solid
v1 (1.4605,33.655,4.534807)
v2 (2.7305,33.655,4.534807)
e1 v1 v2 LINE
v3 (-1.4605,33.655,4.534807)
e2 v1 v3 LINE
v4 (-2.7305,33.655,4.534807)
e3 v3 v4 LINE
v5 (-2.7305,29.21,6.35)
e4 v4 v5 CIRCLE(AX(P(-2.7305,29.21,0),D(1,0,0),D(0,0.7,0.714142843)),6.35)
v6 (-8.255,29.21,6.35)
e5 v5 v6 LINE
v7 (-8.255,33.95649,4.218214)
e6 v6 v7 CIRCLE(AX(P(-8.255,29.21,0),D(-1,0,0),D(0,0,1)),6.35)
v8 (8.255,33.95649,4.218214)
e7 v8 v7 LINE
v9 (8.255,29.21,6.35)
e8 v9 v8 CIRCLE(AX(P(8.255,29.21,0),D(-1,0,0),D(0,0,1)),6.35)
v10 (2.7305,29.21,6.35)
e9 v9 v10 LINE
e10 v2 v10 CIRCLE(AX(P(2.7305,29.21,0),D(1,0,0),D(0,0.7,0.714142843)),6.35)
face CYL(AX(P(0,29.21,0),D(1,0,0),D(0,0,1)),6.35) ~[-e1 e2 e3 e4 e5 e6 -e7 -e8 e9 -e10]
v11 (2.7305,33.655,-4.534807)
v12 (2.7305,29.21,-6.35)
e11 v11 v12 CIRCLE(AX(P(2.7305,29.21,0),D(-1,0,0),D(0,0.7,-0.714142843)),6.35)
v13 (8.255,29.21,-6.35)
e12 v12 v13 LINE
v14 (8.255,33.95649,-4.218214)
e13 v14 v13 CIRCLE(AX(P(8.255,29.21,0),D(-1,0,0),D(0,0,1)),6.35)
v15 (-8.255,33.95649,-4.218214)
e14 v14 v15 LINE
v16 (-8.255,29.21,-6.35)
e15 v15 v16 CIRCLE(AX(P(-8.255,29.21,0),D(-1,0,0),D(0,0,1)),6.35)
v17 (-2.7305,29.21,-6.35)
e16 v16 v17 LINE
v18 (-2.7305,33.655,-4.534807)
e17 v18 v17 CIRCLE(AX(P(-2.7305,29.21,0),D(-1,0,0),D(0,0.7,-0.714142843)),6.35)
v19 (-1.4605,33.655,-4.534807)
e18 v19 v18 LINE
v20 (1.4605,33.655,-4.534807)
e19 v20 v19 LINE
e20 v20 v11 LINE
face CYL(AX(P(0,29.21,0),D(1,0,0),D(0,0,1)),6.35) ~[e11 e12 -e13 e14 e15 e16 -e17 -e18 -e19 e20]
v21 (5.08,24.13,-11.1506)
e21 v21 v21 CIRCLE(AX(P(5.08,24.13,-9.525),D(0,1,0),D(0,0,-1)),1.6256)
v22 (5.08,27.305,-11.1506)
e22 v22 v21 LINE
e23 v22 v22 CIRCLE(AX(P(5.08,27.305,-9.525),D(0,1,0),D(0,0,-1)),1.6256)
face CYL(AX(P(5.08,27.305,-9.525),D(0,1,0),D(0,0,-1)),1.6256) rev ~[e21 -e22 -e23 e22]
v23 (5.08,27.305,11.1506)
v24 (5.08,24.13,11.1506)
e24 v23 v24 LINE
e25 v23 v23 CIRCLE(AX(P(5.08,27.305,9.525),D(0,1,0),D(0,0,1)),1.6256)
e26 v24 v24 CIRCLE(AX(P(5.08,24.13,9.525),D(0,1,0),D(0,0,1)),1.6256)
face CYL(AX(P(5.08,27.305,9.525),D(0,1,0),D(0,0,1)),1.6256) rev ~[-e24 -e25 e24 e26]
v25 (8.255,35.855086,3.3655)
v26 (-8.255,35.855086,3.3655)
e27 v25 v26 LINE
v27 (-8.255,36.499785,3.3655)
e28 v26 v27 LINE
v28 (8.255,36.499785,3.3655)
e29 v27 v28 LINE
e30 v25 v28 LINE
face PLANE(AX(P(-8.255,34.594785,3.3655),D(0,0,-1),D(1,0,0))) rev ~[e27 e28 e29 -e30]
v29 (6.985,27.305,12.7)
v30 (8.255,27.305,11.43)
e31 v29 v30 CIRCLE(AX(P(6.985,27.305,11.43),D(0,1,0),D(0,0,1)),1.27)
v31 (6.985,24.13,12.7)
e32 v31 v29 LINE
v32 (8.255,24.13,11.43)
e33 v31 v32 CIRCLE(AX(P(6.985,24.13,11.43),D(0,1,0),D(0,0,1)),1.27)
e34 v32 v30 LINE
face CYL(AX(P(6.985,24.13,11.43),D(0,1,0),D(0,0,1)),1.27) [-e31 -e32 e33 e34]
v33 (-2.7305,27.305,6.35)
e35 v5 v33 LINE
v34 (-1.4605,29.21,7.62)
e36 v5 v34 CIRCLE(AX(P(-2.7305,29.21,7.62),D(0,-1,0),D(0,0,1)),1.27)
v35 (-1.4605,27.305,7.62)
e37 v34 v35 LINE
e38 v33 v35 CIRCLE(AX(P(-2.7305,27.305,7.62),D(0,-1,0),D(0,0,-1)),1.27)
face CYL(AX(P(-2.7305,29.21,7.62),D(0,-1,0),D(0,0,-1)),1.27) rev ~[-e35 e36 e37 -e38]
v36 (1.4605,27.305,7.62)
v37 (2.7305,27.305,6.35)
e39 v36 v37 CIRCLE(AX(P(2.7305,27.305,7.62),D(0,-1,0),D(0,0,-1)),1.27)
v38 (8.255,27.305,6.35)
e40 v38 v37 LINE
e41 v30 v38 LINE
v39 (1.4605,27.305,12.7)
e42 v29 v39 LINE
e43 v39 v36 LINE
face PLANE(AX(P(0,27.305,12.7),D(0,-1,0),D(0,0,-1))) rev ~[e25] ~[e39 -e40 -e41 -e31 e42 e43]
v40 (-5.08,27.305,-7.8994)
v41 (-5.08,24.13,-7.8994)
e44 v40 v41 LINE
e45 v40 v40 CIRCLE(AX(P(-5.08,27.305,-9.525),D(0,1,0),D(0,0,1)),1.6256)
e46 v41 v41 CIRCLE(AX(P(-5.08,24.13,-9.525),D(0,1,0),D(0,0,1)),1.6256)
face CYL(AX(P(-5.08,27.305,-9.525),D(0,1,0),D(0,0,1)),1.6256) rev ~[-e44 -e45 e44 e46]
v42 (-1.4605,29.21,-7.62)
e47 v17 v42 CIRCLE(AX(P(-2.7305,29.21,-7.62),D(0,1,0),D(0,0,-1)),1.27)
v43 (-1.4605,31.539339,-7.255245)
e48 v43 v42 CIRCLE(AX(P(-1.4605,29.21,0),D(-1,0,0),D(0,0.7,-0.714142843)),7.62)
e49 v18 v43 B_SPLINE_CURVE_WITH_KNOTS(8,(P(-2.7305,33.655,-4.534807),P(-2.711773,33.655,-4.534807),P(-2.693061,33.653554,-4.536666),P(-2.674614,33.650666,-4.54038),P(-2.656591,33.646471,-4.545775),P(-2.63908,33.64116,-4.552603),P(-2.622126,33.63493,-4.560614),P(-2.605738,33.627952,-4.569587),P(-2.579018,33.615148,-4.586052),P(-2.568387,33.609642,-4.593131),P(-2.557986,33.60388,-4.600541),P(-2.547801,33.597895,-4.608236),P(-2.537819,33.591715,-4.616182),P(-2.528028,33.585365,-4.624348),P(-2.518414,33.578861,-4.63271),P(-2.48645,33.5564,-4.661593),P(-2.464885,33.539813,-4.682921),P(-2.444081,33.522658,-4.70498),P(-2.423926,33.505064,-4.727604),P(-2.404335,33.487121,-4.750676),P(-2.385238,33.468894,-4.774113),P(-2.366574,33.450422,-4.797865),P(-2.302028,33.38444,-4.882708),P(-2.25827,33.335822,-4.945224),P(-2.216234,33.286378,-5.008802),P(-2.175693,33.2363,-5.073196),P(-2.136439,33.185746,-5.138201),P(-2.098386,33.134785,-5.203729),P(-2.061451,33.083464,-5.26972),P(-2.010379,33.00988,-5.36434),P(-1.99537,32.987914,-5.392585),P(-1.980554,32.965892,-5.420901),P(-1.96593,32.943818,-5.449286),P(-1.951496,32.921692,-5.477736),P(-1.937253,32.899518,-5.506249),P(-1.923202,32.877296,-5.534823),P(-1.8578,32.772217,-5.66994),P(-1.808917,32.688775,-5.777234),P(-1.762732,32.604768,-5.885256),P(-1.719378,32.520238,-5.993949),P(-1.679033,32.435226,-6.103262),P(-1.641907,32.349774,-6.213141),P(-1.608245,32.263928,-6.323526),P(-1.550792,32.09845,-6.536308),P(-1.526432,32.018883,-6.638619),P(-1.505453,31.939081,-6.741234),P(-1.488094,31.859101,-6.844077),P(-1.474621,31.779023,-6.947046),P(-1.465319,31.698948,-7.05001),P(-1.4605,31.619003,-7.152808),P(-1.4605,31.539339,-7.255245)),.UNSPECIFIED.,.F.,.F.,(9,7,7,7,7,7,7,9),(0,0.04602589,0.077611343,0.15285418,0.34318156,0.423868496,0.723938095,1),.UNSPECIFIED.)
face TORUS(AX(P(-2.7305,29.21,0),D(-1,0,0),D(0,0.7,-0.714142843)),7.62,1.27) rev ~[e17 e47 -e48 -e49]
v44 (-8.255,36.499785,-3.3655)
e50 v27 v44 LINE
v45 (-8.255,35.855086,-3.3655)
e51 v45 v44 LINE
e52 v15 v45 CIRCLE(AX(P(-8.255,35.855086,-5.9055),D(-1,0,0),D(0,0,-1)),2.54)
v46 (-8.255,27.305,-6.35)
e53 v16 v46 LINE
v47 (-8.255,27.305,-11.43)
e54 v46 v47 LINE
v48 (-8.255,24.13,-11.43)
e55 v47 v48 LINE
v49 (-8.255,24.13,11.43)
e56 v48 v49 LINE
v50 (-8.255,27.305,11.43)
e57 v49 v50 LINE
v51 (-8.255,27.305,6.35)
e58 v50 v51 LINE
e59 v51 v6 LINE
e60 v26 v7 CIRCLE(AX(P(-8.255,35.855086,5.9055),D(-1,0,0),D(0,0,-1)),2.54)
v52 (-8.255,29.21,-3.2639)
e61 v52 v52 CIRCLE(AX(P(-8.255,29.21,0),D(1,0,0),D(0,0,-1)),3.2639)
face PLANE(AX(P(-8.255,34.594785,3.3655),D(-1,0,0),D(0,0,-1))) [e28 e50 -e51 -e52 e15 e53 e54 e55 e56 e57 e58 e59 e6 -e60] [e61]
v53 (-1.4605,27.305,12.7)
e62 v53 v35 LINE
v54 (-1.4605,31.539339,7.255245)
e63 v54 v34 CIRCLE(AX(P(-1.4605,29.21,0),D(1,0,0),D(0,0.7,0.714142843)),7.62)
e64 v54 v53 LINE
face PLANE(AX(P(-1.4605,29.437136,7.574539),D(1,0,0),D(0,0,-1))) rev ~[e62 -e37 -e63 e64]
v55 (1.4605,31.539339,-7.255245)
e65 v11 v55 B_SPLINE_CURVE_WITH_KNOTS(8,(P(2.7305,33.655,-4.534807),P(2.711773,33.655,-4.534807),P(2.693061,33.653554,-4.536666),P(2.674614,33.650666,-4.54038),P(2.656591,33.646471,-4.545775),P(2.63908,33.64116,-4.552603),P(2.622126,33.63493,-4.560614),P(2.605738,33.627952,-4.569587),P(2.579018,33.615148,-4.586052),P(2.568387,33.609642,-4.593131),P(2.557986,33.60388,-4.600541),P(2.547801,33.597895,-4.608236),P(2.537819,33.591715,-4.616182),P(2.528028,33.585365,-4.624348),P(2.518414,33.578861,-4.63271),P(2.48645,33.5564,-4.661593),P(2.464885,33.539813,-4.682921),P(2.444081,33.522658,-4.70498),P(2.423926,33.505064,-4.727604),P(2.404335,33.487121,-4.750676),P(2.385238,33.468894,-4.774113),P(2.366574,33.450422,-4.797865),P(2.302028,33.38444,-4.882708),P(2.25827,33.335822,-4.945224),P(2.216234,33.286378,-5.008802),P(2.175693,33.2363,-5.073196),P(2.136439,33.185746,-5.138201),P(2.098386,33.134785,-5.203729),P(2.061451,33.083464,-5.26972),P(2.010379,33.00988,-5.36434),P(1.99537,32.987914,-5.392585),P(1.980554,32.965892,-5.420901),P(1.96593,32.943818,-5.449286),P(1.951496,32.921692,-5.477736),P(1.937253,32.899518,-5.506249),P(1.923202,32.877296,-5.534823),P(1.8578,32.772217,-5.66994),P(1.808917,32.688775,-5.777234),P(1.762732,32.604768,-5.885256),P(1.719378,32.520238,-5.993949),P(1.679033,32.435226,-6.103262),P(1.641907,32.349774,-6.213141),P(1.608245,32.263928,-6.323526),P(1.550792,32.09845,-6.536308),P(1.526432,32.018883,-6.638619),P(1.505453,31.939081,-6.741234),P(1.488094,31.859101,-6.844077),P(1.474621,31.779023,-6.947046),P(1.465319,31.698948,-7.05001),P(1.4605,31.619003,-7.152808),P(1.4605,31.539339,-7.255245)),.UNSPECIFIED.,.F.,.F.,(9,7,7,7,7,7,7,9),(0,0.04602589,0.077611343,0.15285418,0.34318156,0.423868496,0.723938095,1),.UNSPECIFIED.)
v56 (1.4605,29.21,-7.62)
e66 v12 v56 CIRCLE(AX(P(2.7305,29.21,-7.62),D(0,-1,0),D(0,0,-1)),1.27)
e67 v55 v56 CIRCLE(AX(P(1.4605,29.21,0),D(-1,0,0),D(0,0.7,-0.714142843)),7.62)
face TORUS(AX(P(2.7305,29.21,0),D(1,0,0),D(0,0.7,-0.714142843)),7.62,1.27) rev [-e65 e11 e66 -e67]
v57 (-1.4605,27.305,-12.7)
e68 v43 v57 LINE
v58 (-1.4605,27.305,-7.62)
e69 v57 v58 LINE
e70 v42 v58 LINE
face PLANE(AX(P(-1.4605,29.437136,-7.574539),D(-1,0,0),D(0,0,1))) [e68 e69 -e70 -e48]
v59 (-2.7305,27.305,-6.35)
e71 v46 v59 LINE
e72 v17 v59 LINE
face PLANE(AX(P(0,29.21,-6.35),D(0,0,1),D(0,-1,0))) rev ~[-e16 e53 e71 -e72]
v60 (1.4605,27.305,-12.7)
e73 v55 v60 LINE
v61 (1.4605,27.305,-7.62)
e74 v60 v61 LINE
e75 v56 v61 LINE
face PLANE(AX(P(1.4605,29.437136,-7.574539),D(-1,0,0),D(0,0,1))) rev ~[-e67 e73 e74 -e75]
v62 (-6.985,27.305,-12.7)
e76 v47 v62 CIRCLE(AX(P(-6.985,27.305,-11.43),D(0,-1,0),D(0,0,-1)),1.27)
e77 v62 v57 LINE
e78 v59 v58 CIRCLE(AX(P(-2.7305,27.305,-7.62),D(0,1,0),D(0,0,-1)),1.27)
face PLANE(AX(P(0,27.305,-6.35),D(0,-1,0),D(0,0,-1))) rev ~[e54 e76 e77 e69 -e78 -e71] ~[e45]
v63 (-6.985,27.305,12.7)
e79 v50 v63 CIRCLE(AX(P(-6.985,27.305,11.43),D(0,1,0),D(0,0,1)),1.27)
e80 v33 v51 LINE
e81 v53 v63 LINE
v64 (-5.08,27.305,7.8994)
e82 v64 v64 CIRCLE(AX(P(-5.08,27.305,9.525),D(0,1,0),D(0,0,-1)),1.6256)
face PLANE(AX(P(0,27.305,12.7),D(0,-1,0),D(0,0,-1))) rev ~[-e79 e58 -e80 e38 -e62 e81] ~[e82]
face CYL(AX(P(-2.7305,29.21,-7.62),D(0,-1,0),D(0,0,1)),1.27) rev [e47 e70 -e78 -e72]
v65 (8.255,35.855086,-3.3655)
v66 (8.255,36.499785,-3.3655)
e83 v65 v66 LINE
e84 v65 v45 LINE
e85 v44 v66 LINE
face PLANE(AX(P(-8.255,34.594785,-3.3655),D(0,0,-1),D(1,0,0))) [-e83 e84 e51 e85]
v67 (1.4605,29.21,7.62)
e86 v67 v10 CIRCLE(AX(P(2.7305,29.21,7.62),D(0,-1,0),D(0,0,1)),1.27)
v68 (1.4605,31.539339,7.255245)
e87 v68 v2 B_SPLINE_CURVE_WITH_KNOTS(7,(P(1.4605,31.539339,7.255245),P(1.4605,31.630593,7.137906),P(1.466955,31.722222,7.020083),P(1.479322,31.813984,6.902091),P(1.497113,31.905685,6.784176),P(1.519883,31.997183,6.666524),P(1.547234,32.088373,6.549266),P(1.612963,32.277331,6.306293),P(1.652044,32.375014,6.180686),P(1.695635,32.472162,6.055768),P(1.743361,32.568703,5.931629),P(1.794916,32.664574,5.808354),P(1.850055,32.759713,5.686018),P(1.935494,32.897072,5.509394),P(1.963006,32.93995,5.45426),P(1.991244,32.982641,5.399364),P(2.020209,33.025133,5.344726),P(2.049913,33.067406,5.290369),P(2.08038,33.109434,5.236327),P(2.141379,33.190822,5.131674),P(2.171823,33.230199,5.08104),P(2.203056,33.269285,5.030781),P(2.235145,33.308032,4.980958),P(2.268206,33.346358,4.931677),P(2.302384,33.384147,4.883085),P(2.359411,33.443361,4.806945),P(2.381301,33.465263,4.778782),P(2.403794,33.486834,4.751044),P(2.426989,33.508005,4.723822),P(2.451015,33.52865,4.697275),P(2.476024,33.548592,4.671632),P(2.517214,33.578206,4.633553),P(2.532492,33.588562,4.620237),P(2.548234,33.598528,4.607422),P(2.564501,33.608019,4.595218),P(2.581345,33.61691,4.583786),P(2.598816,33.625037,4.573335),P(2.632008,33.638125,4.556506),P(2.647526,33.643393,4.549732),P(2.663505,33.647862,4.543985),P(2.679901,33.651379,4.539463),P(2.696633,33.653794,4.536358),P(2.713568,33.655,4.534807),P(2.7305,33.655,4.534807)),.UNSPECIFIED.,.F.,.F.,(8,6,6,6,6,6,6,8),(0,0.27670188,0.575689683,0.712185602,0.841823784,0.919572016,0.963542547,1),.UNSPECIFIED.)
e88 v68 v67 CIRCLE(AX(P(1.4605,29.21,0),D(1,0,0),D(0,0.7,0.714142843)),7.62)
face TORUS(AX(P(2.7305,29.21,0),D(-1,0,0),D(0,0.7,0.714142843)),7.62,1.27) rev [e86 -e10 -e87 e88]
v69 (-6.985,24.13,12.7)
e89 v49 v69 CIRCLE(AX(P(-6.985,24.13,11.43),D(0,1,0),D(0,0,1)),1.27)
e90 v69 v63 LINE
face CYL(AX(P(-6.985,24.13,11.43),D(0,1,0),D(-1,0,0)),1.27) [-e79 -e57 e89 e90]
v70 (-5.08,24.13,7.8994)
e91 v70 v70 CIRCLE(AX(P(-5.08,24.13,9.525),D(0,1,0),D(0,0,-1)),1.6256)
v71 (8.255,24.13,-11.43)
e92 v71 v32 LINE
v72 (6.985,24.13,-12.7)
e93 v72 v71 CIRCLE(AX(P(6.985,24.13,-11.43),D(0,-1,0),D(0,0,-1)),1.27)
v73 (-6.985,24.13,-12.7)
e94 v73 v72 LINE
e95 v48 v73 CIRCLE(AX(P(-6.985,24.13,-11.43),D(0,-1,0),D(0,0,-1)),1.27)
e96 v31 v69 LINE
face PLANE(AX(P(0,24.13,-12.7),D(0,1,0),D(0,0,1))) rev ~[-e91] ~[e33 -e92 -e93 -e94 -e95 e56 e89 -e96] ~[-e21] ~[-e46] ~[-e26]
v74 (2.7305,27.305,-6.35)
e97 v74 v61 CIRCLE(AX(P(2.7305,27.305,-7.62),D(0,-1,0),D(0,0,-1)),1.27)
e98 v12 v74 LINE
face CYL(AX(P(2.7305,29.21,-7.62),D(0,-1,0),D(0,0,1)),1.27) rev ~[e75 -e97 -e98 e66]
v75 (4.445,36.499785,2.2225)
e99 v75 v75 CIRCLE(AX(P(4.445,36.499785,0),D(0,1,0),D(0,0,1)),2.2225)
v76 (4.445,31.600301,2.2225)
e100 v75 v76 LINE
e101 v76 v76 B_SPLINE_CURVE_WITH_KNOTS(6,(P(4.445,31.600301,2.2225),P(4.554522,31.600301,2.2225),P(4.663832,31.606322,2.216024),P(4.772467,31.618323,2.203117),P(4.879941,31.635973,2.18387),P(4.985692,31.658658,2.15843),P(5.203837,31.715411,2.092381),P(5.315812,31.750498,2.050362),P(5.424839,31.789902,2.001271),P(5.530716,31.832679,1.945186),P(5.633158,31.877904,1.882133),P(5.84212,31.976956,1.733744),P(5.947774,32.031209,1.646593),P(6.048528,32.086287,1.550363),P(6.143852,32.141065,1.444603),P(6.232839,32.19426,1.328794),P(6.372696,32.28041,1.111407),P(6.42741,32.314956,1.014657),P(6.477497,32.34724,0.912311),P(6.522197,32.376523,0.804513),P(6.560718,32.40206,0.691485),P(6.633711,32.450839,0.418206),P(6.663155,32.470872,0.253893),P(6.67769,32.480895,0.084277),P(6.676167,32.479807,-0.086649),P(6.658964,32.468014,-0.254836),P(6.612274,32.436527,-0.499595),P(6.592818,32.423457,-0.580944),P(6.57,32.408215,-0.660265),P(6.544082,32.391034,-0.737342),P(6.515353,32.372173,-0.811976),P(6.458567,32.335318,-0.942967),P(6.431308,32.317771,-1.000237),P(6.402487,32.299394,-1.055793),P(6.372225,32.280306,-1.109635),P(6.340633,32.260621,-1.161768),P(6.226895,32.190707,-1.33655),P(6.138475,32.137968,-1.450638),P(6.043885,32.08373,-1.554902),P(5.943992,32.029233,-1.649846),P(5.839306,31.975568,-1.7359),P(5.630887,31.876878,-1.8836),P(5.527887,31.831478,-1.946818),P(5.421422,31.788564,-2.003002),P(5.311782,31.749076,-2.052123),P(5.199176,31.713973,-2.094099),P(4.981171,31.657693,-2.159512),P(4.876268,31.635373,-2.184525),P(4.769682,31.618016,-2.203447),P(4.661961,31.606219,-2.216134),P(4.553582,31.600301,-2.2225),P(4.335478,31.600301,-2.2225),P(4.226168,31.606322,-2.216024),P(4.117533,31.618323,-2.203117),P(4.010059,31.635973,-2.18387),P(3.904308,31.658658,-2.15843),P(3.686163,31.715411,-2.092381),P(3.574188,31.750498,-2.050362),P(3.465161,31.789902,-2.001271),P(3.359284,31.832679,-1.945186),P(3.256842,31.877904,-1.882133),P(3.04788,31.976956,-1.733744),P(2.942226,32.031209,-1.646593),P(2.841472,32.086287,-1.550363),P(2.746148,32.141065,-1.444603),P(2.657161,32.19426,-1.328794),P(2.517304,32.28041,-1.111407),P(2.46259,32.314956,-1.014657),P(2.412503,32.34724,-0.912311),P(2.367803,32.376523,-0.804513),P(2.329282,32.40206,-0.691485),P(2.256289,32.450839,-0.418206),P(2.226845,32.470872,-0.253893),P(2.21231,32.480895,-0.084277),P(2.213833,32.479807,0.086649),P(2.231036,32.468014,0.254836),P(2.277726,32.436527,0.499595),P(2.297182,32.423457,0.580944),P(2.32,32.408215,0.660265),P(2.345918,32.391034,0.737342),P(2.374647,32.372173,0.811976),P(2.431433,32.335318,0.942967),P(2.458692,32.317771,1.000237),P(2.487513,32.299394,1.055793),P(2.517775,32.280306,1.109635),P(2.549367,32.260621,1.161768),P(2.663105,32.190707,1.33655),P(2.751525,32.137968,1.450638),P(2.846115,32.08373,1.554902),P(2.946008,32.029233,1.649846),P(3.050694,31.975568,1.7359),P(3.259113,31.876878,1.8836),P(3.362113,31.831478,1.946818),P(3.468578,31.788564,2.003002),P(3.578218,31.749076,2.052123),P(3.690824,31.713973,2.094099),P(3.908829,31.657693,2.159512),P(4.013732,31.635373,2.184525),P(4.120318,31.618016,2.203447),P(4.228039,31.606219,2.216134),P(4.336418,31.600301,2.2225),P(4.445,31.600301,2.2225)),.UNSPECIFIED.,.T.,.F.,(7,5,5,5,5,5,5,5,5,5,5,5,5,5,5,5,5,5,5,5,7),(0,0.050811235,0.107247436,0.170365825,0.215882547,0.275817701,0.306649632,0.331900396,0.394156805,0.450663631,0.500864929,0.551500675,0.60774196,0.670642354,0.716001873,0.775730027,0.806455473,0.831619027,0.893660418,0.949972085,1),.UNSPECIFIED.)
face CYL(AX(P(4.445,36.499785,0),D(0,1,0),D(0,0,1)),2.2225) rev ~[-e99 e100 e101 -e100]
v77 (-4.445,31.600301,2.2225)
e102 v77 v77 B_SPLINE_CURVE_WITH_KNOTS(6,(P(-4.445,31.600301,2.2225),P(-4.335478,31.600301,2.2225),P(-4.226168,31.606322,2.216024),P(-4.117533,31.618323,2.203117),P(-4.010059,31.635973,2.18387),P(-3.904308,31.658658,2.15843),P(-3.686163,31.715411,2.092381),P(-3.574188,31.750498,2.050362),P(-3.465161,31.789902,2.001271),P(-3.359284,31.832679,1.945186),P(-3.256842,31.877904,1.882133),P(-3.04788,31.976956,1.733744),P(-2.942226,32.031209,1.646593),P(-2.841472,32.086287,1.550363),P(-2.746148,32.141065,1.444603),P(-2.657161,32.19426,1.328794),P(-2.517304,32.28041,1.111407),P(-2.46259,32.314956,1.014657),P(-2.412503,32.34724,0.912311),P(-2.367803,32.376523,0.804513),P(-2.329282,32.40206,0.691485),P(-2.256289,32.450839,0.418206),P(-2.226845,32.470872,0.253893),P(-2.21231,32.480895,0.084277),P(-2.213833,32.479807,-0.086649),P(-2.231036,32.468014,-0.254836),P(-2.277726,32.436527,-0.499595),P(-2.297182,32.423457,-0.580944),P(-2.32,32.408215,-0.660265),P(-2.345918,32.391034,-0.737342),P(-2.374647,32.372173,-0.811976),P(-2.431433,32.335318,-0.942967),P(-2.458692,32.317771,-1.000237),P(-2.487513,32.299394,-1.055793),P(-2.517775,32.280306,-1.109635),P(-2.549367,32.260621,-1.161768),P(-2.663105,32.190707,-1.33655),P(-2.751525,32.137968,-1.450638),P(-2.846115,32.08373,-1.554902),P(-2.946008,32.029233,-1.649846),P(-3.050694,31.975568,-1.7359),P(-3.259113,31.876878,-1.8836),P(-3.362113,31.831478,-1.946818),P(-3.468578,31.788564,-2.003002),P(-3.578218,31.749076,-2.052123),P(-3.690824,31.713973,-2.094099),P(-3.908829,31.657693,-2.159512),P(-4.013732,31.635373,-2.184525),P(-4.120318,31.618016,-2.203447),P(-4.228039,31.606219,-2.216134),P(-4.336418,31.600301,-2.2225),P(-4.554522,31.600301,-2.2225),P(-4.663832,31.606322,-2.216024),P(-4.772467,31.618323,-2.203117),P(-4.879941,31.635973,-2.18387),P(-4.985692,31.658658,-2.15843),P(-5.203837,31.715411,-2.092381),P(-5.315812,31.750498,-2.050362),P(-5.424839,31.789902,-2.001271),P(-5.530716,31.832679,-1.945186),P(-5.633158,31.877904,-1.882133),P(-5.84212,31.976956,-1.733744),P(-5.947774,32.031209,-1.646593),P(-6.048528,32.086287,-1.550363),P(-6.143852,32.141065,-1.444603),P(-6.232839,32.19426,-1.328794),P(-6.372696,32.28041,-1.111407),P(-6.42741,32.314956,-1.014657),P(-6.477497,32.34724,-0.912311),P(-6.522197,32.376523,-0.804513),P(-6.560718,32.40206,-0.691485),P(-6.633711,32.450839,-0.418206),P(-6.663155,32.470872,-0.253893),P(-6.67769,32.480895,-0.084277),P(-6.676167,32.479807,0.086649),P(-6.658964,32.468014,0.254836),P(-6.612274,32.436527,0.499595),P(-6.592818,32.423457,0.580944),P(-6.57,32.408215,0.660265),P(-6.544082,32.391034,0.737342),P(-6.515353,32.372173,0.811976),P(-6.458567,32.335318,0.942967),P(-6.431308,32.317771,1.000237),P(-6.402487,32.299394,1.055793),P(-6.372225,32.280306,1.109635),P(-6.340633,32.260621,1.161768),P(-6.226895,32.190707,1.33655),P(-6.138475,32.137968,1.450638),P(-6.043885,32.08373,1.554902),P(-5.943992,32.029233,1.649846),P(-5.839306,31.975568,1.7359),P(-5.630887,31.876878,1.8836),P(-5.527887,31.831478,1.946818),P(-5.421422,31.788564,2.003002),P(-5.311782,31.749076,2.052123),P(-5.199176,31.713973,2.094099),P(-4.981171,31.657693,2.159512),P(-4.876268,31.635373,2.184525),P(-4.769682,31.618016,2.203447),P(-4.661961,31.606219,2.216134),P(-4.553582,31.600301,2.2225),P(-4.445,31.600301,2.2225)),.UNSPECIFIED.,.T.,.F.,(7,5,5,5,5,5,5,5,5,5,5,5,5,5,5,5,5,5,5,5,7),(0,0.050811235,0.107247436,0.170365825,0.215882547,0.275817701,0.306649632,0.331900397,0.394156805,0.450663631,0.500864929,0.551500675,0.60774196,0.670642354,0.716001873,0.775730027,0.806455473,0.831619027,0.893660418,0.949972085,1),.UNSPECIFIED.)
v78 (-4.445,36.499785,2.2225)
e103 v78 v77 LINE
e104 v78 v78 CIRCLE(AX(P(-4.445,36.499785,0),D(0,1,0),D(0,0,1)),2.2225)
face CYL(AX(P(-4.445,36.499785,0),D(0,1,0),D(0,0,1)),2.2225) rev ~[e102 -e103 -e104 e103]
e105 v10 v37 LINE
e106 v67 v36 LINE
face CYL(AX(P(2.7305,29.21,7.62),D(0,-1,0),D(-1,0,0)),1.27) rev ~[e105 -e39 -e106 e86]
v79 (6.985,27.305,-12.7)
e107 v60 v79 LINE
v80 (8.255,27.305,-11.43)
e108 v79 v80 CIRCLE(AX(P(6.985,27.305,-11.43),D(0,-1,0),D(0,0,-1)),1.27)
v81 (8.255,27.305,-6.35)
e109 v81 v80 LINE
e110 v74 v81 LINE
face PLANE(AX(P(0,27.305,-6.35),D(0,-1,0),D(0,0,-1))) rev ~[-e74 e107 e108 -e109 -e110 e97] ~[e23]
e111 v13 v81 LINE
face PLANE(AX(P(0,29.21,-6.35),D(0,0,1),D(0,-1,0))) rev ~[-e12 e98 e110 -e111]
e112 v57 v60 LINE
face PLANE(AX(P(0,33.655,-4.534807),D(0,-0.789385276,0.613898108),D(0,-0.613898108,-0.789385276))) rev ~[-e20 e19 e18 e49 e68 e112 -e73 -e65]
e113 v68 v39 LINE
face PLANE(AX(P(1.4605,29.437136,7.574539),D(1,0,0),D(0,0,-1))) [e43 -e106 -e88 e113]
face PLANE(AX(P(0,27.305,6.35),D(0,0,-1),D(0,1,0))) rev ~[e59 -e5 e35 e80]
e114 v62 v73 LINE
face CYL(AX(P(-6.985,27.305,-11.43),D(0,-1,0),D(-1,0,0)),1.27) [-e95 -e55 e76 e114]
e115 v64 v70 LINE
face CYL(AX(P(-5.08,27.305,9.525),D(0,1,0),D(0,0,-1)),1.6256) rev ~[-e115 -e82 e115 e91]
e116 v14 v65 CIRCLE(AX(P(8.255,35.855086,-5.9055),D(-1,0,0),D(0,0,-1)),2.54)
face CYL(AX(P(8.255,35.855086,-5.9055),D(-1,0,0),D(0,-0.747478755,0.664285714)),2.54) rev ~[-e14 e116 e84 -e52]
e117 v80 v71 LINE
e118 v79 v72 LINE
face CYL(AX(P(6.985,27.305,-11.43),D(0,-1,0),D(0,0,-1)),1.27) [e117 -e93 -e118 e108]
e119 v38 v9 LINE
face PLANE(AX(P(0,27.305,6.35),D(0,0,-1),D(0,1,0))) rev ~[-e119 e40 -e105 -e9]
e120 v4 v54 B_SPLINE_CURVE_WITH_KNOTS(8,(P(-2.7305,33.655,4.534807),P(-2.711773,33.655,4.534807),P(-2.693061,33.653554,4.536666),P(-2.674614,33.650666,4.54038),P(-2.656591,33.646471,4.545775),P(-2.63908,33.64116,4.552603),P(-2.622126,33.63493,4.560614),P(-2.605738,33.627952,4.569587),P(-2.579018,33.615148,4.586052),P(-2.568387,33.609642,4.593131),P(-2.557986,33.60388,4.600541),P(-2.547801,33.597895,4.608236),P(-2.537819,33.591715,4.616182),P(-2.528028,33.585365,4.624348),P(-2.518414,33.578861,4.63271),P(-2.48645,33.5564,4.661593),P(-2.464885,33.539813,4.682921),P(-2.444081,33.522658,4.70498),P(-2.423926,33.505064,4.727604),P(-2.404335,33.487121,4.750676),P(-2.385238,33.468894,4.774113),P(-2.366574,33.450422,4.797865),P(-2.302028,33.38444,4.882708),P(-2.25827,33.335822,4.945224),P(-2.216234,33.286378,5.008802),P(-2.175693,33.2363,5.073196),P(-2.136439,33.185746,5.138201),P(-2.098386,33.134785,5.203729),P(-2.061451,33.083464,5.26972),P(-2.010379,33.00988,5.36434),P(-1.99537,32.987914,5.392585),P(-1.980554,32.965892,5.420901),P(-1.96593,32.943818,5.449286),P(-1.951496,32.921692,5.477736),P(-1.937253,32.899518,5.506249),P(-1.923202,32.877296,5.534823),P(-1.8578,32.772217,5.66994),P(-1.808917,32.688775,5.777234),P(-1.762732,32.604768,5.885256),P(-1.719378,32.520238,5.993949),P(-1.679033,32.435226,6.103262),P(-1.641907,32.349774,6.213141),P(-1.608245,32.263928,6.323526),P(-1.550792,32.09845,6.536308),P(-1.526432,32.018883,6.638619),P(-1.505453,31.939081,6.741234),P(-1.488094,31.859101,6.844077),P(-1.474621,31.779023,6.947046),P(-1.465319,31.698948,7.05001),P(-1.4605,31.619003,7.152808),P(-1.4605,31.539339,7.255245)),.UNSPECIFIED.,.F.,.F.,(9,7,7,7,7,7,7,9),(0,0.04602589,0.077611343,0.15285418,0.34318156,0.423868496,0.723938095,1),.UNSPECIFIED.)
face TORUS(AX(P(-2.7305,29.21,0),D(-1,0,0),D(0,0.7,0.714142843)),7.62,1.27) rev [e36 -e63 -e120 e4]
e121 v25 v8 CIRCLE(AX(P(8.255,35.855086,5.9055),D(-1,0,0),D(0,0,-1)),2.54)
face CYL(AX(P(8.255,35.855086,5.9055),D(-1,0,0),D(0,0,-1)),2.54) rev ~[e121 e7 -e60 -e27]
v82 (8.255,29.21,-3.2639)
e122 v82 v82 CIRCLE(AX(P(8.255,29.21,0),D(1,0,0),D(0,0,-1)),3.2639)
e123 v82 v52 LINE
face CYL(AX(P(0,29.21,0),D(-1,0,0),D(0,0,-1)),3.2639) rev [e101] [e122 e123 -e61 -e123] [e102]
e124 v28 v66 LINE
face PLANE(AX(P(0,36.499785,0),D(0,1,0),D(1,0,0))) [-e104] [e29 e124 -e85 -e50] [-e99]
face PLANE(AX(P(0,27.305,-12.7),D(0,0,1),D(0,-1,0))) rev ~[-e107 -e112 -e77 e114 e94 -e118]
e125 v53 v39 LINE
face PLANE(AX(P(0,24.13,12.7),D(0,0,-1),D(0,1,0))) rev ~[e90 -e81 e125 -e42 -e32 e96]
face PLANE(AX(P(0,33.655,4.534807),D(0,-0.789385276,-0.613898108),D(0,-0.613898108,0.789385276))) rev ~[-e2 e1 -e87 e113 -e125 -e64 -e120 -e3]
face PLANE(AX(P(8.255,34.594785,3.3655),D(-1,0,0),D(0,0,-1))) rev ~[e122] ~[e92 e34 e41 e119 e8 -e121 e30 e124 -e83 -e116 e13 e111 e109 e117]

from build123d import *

# Parameters (mm, degrees)
SKETCH1_R           = 3.2639
BOSS_EXTRUDE1_DEPTH = 8.255
BOSS_EXTRUDE2_DEPTH = 1.4605
SKETCH3_R           = 1.6256
CUT_EXTRUDE1_DEPTH  = 18.250508688
CUT_EXTRUDE2_DEPTH  = 42.211451079
SKETCH6_W           = 16.51
SKETCH6_H           = 6.731
BOSS_EXTRUDE3_DEPTH = 1.905
SKETCH5_R           = 2.2225
CUT_EXTRUDE3_DEPTH  = 6.35
FILLET1_R           = 1.27
FILLET2_R           = 2.54


with BuildPart() as part:
    # Sketch1 → Boss-Extrude1 (new, symmetric)
    with BuildSketch(Plane(origin=(0, 0, 0), x_dir=(0, 0, -1), z_dir=(1, 0, 0))):
        with BuildLine():
            Line((12.7, 24.13), (-12.7, 24.13))
            Line((-12.7, 24.13), (-12.7, 27.305))
            Line((-12.7, 27.305), (-6.35, 27.305))
            Line((-6.35, 27.305), (-6.35, 29.21))
            ThreePointArc((-6.35, 29.21), (0, 35.56), (6.35, 29.21))
            Line((6.35, 29.21), (6.35, 27.305))
            Line((6.35, 27.305), (12.7, 27.305))
            Line((12.7, 27.305), (12.7, 24.13))
        make_face()
        with Locations((0, 29.21)):
            Circle(SKETCH1_R, mode=Mode.SUBTRACT)
    extrude(amount=BOSS_EXTRUDE1_DEPTH, both=True)

    # Sketch2 → Boss-Extrude2 (add, symmetric)
    with BuildSketch(Plane(origin=(0, 0, 0), x_dir=(0, 0, -1), z_dir=(1, 0, 0))):
        Polygon((-4.534807052, 33.655), (-12.7, 27.305), (-4.534807052, 27.305), align=None)
        Polygon((4.534807052, 27.305), (4.534807052, 33.655), (12.7, 27.305), align=None)
    extrude(amount=BOSS_EXTRUDE2_DEPTH, both=True)

    # Sketch3 → Cut-Extrude1 (cut, through all)
    with BuildSketch(Plane(origin=(0, 27.305, 0), x_dir=(1, 0, 0), z_dir=(0, 1, 0))):
        with Locations(Location((-5.08, 9.525, 0), (0, 0, 270))):
            Circle(SKETCH3_R)
        with Locations(Location((5.08, 9.525, 0), (0, 0, 90))):
            Circle(SKETCH3_R)
        with Locations(Location((5.08, -9.525, 0), (0, 0, 270))):
            Circle(SKETCH3_R)
        with Locations(Location((-5.08, -9.525, 0), (0, 0, 90))):
            Circle(SKETCH3_R)
    extrude(amount=-CUT_EXTRUDE1_DEPTH, mode=Mode.SUBTRACT)

    # Sketch4 → Cut-Extrude2 (cut, through all)
    with BuildSketch(Plane(origin=(8.255, 0, 0), x_dir=(0, 0, -1), z_dir=(1, 0, 0))):
        with BuildLine():
            Line((3.3655, 34.594785024), (-3.3655, 34.594785024))
            ThreePointArc((-3.3655, 34.594785024), (0, 35.56), (3.3655, 34.594785024))
        make_face()
    extrude(amount=-CUT_EXTRUDE2_DEPTH, mode=Mode.SUBTRACT)

    # Sketch6 → Boss-Extrude3 (add)
    with BuildSketch(Plane(origin=(0, 34.594785024, 0), x_dir=(1, 0, 0), z_dir=(0, 1, 0))):
        Rectangle(SKETCH6_W, SKETCH6_H)
    extrude(amount=BOSS_EXTRUDE3_DEPTH)

    # Sketch5 → Cut-Extrude3 (cut)
    with BuildSketch(Plane(origin=(0, 36.499785024, 0), x_dir=(1, 0, 0), z_dir=(0, 1, 0))):
        with Locations(Location((-4.445, 0, 0), (0, 0, 270))):
            Circle(SKETCH5_R)
        with Locations(Location((4.445, 0, 0), (0, 0, 270))):
            Circle(SKETCH5_R)
    extrude(amount=-CUT_EXTRUDE3_DEPTH, mode=Mode.SUBTRACT)

    # Fillet1
    fillet1_edges = [part.edges().sort_by_distance(p)[0] for p in [
        (-8.255, 25.7175, -12.7),
        (-8.255, 25.7175, 12.7),
        (8.255, 25.7175, -12.7),
        (1.4605, 28.2575, 6.35),
        (1.4605, 31.610674407, 5.878712647),
        (-1.4605, 28.2575, 6.35),
        (-1.4605, 31.610674407, 5.878712647),
        (-1.4605, 28.2575, -6.35),
        (1.4605, 28.2575, -6.35),
        (8.255, 25.7175, 12.7),
        (1.4605, 31.610674407, -5.878712647),
        (-1.4605, 31.610674407, -5.878712647),
    ]]
    fillet(fillet1_edges, radius=FILLET1_R)

    # Fillet2
    fillet2_edges = [part.edges().sort_by_distance(p)[0] for p in [
        (0, 34.594785024, 3.3655),
        (0, 34.594785024, -3.3655),
    ]]
    fillet(fillet2_edges, radius=FILLET2_R)


solid = part.part
